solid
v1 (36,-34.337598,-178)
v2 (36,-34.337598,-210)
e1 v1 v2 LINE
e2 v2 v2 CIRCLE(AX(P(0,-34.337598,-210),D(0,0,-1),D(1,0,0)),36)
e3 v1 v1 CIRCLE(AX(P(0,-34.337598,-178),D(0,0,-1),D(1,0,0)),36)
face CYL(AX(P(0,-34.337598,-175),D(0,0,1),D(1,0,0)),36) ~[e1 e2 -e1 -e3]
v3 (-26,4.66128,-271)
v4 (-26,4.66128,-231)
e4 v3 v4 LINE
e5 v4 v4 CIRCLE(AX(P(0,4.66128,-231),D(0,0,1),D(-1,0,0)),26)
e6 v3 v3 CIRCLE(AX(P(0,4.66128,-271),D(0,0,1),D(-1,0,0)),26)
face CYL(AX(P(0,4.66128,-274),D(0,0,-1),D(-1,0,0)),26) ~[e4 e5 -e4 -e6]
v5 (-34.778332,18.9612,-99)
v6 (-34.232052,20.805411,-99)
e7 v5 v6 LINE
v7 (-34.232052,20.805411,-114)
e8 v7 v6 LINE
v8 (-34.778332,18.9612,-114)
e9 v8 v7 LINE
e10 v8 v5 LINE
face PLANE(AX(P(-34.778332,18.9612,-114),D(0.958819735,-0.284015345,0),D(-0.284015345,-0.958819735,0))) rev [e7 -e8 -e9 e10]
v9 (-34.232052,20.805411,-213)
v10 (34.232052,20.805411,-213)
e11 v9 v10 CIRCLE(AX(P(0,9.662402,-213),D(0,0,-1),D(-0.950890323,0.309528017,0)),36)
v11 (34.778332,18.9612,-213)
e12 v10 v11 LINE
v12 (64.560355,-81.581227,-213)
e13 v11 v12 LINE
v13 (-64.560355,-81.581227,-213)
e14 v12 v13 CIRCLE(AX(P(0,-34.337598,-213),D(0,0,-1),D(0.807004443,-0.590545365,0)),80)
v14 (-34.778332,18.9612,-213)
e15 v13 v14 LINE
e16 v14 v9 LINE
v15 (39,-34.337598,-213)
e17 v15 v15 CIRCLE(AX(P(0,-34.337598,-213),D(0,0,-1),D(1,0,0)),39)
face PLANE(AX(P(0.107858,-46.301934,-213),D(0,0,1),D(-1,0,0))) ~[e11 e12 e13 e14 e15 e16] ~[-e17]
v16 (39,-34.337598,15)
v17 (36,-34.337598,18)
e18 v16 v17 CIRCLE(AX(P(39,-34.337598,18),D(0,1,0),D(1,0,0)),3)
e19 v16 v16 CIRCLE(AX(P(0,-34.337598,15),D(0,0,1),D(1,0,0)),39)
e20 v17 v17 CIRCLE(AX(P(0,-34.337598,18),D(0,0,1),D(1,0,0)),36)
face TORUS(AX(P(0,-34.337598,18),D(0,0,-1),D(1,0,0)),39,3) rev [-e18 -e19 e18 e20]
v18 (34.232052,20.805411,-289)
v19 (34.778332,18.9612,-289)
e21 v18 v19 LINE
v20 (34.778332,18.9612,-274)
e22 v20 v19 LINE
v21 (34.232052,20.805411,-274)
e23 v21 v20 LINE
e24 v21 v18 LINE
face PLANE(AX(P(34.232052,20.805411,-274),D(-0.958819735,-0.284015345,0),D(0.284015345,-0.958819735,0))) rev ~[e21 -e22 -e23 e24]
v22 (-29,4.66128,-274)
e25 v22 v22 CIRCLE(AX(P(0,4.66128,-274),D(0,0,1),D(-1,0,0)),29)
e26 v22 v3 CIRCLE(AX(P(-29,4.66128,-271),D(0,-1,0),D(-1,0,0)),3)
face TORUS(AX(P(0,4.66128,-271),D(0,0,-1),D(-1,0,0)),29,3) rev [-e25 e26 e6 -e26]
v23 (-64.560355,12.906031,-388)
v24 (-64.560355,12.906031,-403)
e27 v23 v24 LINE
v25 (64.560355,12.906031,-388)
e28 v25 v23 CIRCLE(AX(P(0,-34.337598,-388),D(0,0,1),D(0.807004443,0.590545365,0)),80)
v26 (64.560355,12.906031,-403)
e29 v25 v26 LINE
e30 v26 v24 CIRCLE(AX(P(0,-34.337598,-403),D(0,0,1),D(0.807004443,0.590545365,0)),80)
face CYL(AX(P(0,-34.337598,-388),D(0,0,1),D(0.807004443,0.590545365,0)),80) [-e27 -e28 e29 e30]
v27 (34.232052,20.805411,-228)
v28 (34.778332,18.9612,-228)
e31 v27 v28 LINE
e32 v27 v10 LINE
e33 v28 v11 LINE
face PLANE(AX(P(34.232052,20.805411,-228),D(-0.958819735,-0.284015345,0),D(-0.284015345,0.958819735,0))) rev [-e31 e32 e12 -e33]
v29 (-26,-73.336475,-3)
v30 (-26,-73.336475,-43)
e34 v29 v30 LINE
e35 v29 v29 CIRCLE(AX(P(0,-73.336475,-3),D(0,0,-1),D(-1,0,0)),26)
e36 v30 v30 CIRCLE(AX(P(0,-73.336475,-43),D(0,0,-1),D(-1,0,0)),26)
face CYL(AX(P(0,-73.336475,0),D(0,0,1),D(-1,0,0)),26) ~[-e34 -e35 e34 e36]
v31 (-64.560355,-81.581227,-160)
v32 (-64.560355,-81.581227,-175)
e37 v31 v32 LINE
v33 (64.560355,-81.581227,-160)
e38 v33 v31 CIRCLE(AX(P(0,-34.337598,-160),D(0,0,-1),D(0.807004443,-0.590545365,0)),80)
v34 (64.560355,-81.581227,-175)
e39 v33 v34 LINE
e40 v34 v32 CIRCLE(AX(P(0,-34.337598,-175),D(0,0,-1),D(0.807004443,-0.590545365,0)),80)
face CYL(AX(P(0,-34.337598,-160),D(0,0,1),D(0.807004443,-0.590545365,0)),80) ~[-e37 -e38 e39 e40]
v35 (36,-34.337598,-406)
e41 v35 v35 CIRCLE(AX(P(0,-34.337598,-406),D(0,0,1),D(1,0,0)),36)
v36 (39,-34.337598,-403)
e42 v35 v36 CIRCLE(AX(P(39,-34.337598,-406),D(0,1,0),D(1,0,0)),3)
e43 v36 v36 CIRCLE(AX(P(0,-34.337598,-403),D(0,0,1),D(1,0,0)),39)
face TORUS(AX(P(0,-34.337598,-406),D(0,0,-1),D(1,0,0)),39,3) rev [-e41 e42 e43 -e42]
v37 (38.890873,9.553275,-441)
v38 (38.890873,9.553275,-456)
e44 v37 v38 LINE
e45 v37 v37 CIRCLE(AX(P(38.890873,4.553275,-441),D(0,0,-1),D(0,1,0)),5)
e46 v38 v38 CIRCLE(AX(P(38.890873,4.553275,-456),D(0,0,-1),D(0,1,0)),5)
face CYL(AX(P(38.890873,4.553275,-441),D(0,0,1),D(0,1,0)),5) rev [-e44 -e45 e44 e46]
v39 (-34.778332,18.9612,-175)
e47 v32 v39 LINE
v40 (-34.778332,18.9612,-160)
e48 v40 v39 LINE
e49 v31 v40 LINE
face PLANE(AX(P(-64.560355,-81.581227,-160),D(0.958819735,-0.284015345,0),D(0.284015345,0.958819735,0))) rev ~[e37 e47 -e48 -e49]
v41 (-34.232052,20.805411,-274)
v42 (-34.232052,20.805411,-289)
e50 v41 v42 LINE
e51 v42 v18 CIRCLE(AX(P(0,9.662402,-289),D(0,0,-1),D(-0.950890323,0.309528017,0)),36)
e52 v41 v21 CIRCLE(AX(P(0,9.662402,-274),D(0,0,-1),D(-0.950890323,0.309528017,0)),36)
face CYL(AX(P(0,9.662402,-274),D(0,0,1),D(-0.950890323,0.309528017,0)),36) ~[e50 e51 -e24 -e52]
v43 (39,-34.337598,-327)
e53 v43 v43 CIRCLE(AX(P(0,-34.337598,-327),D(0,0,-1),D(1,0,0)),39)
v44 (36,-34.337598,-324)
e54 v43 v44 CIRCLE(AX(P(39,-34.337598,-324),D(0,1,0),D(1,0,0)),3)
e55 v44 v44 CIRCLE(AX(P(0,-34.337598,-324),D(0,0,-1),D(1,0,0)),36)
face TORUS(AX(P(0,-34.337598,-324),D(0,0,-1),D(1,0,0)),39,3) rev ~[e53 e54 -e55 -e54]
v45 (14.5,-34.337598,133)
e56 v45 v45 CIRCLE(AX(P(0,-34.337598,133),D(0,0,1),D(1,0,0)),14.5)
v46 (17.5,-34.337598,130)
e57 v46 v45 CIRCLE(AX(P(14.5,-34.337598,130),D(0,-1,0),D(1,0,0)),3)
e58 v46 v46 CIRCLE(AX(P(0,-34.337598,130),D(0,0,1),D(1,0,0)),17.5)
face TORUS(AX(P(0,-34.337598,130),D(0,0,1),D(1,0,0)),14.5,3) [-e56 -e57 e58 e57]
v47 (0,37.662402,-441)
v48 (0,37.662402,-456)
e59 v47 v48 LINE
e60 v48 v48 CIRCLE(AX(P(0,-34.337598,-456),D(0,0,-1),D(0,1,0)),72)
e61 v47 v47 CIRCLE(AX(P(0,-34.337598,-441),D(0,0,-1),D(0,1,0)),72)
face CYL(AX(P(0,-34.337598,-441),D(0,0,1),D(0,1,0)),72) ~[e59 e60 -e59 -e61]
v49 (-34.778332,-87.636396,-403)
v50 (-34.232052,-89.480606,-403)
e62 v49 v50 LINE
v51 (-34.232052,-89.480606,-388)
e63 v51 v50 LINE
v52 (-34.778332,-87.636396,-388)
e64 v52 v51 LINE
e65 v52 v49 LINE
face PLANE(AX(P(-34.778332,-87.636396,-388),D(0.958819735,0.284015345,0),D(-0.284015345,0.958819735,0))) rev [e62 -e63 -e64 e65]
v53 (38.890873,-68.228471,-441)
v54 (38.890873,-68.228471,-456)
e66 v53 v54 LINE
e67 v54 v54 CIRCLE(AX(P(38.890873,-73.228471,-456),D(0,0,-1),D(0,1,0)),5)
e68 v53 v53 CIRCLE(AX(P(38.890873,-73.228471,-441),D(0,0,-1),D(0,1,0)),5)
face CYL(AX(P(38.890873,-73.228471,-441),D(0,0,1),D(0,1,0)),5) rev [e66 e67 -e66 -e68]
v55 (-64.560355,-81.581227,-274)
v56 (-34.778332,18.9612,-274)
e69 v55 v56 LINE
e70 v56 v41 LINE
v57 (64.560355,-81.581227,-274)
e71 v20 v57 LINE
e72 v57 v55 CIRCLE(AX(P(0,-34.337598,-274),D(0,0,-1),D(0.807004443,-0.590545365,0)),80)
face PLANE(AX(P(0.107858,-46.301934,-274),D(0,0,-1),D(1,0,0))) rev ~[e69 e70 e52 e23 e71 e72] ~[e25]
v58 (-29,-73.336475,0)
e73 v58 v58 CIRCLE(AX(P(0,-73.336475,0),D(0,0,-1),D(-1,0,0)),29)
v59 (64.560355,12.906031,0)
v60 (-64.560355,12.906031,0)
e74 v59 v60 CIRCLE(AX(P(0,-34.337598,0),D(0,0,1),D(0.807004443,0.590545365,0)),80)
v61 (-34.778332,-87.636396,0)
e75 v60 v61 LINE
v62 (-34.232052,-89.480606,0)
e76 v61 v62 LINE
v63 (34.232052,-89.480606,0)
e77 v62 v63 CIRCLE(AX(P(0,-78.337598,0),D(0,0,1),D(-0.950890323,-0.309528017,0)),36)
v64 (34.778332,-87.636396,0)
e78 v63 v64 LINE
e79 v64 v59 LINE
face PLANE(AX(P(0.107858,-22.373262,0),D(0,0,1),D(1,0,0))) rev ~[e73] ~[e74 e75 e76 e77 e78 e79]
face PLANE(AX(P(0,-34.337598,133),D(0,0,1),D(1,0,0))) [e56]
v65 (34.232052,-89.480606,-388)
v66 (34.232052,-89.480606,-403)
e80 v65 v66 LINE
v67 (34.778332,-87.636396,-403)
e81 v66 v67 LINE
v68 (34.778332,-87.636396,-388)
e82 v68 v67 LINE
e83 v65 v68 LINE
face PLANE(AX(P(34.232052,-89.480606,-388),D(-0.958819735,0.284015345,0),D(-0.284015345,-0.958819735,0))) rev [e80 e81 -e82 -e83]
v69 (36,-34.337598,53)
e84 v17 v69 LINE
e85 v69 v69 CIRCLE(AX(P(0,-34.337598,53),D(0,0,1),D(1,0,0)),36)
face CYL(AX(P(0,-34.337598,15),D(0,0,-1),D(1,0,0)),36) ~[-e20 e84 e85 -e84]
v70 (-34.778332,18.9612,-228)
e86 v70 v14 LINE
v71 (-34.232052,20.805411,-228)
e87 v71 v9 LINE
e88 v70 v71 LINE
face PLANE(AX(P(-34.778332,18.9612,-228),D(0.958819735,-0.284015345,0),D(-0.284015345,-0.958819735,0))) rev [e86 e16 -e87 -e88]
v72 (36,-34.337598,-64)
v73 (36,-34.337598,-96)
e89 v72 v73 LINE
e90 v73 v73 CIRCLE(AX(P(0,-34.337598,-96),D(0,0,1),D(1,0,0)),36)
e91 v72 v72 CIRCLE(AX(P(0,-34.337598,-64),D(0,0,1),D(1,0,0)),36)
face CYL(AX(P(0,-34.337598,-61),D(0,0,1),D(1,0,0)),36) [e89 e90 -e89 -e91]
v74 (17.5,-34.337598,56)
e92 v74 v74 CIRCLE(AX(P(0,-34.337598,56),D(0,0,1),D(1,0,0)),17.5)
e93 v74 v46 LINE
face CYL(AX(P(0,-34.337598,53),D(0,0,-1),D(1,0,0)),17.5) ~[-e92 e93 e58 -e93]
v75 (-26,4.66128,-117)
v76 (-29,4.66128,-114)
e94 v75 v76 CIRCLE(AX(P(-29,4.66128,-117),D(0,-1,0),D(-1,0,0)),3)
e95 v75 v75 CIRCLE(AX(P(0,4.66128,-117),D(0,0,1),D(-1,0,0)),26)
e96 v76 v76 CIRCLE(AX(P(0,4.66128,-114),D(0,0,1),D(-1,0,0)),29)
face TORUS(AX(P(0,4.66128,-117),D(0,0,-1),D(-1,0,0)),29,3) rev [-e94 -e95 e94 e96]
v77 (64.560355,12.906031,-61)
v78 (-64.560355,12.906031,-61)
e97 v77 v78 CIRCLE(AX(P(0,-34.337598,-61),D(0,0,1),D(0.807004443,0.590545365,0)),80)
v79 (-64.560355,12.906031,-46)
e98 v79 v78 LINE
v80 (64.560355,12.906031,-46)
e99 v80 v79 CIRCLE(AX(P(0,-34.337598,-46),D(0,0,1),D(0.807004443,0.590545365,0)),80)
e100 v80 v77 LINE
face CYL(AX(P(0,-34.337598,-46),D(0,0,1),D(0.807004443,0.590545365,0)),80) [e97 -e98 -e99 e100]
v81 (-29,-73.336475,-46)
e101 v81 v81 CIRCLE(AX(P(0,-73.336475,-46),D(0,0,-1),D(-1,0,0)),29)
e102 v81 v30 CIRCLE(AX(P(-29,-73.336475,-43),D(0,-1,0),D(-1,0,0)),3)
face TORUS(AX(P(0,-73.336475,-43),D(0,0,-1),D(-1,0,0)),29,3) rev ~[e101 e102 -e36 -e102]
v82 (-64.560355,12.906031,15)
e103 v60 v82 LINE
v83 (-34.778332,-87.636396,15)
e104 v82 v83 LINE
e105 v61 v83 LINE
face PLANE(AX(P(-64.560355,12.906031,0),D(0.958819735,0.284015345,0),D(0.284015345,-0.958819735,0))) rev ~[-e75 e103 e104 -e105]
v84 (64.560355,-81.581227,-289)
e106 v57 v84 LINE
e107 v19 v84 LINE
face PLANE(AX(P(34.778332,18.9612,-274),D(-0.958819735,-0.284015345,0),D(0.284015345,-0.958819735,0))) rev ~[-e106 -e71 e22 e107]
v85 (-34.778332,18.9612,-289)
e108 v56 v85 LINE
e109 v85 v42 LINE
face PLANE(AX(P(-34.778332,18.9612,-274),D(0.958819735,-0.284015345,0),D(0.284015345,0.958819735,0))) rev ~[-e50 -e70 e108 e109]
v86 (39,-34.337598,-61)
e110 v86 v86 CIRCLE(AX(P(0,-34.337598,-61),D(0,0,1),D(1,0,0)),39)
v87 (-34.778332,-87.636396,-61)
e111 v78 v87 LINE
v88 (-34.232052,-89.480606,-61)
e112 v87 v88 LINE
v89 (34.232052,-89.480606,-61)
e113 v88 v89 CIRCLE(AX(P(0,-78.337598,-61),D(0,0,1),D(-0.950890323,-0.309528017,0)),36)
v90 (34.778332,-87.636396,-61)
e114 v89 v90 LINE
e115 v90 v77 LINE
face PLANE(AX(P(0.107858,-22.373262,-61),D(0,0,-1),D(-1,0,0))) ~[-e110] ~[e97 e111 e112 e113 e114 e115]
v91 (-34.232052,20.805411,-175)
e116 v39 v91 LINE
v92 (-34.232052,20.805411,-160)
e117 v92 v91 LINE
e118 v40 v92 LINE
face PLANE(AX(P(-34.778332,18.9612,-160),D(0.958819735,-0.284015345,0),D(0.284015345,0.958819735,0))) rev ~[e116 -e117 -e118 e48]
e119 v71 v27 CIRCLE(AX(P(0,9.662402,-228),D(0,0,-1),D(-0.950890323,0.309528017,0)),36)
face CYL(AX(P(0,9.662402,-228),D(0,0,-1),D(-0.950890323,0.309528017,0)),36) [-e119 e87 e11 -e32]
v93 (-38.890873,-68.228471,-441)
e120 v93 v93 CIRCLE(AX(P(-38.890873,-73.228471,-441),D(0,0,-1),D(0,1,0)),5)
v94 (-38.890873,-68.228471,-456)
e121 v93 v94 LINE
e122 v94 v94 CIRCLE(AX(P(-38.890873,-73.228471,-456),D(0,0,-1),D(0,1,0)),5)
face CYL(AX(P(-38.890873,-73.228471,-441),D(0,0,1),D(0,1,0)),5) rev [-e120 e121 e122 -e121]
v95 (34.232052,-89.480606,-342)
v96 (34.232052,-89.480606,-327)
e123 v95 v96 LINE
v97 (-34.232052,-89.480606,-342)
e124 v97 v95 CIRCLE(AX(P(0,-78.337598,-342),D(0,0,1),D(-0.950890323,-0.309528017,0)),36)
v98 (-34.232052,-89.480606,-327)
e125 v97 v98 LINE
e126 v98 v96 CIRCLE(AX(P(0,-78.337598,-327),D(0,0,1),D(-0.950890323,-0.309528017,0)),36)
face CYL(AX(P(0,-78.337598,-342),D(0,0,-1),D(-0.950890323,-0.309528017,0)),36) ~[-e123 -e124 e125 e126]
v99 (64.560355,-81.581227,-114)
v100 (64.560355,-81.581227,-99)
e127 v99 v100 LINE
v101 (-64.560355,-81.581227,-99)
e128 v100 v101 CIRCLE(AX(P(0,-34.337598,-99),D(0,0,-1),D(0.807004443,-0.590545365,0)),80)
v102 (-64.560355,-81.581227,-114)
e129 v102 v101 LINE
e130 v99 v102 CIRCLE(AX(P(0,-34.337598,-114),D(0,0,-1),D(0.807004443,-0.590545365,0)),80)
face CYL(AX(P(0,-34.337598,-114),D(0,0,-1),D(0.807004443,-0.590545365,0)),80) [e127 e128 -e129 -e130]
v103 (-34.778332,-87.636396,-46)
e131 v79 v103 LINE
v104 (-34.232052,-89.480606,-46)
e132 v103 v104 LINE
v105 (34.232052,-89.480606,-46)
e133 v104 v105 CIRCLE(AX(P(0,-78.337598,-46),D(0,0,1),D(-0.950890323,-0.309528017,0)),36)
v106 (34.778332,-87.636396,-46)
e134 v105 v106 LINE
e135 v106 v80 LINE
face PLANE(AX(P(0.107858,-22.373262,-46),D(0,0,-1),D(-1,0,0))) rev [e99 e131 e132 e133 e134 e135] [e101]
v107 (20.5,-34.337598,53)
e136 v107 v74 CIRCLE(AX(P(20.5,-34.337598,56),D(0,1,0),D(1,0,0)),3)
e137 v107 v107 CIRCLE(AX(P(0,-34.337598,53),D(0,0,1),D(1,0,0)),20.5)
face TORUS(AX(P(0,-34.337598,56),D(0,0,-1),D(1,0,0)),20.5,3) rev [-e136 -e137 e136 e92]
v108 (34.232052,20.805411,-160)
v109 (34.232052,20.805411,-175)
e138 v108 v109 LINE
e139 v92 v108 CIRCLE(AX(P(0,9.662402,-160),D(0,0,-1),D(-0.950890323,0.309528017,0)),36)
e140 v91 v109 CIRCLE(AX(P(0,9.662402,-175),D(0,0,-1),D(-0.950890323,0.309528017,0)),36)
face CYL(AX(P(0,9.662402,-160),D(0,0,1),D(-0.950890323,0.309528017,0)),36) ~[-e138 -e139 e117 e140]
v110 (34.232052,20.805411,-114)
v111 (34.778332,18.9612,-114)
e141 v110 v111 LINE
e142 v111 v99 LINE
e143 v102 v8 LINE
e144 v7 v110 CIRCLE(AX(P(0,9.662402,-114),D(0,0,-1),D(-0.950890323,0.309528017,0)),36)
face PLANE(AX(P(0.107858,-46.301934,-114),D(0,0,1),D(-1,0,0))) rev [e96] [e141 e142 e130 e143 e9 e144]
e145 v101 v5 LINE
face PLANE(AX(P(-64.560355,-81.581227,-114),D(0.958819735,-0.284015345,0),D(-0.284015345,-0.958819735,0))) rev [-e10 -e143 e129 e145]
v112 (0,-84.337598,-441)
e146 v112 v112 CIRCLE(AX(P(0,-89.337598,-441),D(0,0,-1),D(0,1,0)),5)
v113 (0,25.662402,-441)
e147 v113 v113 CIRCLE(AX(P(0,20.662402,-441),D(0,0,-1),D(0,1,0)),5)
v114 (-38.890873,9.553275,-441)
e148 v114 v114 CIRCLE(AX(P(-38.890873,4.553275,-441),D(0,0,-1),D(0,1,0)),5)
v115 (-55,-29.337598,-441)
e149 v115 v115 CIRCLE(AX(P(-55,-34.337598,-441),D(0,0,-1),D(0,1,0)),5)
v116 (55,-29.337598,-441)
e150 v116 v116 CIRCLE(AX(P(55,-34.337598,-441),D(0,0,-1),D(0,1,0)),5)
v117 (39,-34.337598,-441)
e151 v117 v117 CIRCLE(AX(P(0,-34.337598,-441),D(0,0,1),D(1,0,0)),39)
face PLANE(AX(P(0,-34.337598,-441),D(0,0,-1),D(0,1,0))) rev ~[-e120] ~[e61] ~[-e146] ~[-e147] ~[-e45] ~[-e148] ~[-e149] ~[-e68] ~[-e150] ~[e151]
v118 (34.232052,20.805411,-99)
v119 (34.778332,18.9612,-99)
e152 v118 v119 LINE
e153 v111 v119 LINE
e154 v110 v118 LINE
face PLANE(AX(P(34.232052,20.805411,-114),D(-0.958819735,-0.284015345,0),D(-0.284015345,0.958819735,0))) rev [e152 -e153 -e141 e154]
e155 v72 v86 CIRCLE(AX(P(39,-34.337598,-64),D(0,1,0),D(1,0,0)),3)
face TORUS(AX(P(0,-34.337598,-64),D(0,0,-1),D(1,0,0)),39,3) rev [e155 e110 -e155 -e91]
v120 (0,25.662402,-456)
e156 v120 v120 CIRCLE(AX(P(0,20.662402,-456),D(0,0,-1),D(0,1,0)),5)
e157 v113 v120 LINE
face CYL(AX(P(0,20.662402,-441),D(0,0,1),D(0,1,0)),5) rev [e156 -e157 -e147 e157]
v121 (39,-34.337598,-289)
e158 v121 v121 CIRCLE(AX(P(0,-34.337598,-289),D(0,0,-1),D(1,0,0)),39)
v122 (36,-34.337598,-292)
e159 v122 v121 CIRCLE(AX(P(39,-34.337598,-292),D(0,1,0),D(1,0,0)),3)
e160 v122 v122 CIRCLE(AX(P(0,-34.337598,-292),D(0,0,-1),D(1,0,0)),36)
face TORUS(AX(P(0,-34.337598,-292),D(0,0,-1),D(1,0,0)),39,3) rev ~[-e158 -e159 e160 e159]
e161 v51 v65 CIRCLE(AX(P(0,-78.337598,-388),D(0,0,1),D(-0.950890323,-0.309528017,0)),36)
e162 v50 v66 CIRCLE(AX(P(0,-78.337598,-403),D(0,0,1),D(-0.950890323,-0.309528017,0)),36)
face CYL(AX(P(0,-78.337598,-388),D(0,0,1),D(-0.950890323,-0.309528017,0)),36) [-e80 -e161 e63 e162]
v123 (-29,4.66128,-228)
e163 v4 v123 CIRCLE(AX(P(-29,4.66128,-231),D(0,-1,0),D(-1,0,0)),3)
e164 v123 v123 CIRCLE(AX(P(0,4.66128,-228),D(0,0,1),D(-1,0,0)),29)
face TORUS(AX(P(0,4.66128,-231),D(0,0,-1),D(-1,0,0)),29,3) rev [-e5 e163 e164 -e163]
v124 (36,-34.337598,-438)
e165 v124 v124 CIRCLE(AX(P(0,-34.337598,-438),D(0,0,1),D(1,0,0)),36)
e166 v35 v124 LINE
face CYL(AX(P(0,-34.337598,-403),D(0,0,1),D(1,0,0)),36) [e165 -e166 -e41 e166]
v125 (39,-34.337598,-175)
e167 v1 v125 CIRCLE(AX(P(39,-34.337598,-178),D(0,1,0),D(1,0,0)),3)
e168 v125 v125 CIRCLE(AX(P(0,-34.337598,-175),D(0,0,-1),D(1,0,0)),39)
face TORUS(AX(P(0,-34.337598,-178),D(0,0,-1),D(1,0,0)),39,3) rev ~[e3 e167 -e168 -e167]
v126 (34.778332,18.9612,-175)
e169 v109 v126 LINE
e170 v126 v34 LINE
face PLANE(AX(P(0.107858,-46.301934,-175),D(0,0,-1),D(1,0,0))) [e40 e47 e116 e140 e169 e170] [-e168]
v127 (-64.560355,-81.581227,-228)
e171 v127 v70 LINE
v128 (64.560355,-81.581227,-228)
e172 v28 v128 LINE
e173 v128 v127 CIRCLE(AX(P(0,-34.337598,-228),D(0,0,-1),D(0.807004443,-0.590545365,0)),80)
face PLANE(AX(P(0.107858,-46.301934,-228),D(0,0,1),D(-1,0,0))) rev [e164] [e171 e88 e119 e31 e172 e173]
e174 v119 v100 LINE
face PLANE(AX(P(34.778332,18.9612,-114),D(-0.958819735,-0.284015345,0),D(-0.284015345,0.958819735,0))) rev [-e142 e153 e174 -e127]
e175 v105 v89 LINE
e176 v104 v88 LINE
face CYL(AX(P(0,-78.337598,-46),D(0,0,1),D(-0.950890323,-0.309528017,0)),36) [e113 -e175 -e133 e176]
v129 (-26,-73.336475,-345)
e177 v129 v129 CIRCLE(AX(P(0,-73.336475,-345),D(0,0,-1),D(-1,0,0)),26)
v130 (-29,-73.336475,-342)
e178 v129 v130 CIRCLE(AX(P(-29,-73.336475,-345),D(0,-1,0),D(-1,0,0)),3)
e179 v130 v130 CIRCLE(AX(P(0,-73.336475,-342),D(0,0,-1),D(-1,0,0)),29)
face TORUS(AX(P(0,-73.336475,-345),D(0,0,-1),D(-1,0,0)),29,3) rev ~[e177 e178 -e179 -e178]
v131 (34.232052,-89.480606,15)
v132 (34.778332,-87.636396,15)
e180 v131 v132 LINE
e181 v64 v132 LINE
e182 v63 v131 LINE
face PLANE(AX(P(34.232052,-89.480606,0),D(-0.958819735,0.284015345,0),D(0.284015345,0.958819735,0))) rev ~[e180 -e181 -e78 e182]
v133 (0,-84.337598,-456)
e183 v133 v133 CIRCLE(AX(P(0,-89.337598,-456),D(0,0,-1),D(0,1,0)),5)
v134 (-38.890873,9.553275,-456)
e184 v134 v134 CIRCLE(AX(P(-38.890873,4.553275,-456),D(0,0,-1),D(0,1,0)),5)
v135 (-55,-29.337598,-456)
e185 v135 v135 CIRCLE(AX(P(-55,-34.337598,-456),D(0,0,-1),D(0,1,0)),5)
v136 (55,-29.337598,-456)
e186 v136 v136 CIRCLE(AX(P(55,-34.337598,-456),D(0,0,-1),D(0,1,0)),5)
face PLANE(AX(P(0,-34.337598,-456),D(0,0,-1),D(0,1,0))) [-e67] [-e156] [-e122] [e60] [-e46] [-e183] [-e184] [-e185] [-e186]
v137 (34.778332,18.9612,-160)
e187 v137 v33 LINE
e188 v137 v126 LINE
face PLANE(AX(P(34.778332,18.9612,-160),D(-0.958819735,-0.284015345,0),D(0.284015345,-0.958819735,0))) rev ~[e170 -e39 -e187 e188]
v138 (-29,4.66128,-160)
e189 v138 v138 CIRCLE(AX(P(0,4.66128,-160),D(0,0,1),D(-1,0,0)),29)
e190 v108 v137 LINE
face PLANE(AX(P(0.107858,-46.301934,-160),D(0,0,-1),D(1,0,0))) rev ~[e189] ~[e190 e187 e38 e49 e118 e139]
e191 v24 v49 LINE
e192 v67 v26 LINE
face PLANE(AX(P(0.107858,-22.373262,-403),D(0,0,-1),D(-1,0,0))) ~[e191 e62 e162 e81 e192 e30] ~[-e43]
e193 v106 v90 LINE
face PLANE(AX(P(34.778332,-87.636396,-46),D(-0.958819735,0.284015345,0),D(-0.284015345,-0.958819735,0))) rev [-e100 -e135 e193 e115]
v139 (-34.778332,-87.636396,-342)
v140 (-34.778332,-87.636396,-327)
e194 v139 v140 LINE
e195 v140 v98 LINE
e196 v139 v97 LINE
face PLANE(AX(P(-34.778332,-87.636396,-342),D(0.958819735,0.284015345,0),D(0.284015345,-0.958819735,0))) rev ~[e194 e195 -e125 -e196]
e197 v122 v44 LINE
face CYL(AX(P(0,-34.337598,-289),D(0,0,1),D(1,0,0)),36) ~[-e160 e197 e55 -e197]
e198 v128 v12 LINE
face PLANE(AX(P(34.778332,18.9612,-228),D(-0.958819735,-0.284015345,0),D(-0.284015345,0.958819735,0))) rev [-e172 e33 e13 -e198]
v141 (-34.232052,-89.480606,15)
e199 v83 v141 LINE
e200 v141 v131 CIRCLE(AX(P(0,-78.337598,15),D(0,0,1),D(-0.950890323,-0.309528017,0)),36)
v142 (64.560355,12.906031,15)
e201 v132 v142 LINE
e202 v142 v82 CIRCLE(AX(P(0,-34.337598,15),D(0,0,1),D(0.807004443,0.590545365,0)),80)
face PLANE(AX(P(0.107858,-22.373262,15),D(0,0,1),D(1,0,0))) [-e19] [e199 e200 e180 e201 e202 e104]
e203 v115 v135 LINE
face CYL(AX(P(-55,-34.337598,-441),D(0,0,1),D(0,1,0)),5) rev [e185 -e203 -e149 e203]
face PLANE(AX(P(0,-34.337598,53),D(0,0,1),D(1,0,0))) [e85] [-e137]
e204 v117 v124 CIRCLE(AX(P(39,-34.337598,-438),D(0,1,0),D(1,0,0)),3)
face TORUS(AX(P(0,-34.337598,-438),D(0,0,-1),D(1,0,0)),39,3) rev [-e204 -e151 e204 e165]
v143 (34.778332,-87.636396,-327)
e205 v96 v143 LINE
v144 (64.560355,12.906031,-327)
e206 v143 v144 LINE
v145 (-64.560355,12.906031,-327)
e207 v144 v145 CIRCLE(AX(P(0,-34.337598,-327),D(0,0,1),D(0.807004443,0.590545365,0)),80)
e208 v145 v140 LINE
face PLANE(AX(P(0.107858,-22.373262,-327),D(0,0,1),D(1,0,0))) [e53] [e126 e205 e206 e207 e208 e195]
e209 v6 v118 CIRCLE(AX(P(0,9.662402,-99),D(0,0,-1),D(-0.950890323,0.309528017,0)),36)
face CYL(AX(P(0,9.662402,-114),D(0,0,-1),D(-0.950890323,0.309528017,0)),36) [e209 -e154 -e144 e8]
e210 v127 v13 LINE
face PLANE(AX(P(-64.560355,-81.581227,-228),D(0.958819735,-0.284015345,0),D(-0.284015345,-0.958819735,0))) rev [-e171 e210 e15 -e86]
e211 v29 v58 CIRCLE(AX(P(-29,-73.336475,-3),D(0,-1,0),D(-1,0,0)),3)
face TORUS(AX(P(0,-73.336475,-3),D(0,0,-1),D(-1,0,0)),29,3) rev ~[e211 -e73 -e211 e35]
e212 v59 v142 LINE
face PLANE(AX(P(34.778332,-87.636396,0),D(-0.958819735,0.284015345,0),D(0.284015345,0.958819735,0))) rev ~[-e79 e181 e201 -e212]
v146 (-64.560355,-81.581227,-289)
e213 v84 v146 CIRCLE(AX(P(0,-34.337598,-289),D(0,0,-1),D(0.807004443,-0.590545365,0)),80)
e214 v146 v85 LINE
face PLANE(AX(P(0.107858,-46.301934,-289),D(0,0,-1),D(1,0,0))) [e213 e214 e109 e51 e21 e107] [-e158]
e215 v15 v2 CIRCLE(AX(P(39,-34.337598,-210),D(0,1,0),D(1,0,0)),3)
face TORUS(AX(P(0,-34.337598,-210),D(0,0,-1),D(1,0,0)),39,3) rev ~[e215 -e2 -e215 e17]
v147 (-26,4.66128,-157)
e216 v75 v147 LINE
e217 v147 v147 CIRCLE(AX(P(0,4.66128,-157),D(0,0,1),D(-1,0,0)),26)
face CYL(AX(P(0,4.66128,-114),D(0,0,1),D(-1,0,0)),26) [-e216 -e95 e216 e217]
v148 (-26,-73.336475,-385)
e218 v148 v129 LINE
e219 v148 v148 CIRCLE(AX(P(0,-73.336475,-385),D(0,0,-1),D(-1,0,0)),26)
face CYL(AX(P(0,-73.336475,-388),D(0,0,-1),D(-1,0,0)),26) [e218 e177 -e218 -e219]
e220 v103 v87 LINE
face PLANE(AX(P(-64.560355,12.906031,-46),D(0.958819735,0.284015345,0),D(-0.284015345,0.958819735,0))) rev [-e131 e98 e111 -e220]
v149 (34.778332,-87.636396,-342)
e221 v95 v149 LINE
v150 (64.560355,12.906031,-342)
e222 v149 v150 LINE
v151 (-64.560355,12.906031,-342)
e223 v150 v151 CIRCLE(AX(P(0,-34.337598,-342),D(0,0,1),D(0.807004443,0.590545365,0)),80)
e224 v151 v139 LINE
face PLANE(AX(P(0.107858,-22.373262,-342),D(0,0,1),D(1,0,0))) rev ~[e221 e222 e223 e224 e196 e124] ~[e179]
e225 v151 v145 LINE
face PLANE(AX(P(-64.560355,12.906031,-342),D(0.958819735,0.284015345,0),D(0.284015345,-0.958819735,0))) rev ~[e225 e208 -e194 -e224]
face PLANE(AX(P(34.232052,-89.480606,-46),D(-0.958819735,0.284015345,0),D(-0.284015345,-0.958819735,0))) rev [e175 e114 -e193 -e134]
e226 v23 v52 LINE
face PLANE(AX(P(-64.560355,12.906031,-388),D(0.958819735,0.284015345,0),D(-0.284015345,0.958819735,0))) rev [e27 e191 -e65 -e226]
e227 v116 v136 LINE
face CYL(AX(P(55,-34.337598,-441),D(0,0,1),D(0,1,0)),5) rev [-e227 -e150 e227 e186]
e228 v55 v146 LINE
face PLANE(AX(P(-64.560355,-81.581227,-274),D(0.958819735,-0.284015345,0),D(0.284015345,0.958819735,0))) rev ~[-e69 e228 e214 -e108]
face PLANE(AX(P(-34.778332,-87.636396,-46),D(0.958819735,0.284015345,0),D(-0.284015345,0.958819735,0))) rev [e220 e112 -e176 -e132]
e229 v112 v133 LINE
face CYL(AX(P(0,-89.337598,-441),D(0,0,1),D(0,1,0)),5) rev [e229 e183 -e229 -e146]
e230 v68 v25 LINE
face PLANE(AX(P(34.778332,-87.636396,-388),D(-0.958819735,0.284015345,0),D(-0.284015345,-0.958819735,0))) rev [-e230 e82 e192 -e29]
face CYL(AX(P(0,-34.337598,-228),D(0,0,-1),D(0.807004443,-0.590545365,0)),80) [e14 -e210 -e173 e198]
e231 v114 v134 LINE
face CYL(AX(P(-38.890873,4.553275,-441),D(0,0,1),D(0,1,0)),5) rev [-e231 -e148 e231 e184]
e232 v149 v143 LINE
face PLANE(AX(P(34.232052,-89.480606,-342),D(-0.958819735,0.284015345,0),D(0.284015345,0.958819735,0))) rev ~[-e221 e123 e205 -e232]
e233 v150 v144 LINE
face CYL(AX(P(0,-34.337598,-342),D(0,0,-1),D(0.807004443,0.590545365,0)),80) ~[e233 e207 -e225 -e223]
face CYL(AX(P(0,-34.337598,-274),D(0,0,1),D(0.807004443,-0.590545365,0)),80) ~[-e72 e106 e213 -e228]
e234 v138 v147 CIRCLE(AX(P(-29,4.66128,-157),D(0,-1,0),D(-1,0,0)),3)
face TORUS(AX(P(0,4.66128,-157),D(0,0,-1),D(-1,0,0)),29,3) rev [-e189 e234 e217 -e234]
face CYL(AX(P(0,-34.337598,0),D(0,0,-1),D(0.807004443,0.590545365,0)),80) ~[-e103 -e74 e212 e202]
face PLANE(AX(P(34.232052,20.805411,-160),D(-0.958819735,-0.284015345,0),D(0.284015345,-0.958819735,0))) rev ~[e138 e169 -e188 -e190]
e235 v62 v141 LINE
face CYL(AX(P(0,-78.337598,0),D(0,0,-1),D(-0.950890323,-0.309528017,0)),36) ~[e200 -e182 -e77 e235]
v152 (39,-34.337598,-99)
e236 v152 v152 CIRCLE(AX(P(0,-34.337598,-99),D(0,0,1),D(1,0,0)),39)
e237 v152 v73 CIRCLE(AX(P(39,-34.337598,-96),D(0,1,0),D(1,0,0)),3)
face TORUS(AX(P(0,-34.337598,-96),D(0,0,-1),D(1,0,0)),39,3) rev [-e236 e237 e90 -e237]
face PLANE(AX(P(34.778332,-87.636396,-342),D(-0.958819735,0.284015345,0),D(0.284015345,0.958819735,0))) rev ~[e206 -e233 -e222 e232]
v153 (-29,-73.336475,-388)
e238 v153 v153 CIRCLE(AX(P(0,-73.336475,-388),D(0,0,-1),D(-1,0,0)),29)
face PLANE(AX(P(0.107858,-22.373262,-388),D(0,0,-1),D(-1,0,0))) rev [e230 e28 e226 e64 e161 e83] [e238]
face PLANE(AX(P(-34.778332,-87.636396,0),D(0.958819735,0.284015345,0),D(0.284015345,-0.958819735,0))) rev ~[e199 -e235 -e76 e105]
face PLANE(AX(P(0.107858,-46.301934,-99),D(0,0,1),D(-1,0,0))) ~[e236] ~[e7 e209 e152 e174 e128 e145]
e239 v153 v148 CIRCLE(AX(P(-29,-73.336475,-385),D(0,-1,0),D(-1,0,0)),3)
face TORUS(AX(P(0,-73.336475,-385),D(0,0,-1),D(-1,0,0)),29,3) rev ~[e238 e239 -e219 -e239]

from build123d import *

# Parameters (mm, degrees)
BOSS_EXTRUDE3_DEPTH   = 15
SKETCH5_R             = 26
BOSS_EXTRUDE4_DEPTH   = 46
SKETCH6_R             = 36
BOSS_EXTRUDE5_DEPTH   = 38
BODY_MOVE_COPY1_ANGLE = 180
SKETCH7_R             = 17.5
BOSS_EXTRUDE6_DEPTH   = 80
SKETCH8_R             = 72
SKETCH8_R_2           = 5
BOSS_EXTRUDE7_DEPTH   = 15
FILLET2_R             = 3


with BuildPart() as part:
    # Sketch1 → Boss-Extrude3 (new body)
    with BuildSketch(Plane.XY):
        with BuildLine():
            ThreePointArc((64.560355465, 12.906031471), (0, 45.662402247), (-64.560355465, 12.906031471))
            Line((-64.560355465, 12.906031471), (-34.778331639, -87.636395976))
            ThreePointArc((-34.778331639, -87.636395976), (-4.689352887, -42.644321502), (36, -78.337597753))
            ThreePointArc((36, -78.337597753), (35.693276251, -83.026950639), (34.778331639, -87.636395976))
            Line((34.778331639, -87.636395976), (64.560355465, 12.906031471))
        make_face()
        with BuildLine():
            ThreePointArc((36, -78.337597753), (-4.689352887, -42.644321502), (-34.778331639, -87.636395976))
            Line((-34.778331639, -87.636395976), (-34.232051639, -89.480606349))
            ThreePointArc((-34.232051639, -89.480606349), (0, -114.337597753), (34.232051639, -89.480606349))
            Line((34.232051639, -89.480606349), (34.778331639, -87.636395976))
            ThreePointArc((34.778331639, -87.636395976), (35.693276251, -83.026950639), (36, -78.337597753))
        make_face()
    boss_extrude3 = extrude(amount=BOSS_EXTRUDE3_DEPTH)

    # Sketch5 → Boss-Extrude4 (add)
    with BuildSketch(Plane(origin=(0, 0, 0), x_dir=(-1, 0, 0), z_dir=(0, 0, -1))):
        with Locations((0, -73.336475423)):
            Circle(SKETCH5_R)
    extrude(amount=BOSS_EXTRUDE4_DEPTH)

    # Sketch6 → Boss-Extrude5 (add)
    with BuildSketch(Plane.XY.offset(15)):
        with Locations((0, -34.337597753)):
            Circle(SKETCH6_R)
    boss_extrude5 = extrude(amount=BOSS_EXTRUDE5_DEPTH)

    # Mirror8: Boss-Extrude3, Boss-Extrude5 across plane
    add(boss_extrude3.mirror(Plane(origin=(0, 0, -23), x_dir=(1, 0, 0), z_dir=(0, 0, -1))))
    add(boss_extrude5.mirror(Plane(origin=(0, 0, -23), x_dir=(1, 0, 0), z_dir=(0, 0, -1))))


with BuildPart() as body_2:
    # Mirror10: mirrored copy
    add(part.part.mirror(Plane(origin=(0, 0, -80), x_dir=(1, 0, 0), z_dir=(0, 0, -1))))


with BuildPart() as body_2_1:
    # Body-Move/Copy1: moved
    add(body_2.part.rotate(Axis((0, -34.337597753, -137), (1, 0, 0)), BODY_MOVE_COPY1_ANGLE))


with BuildPart() as body_3:
    # Mirror11: mirrored copy
    add(body_2_1.part.mirror(Plane(origin=(0, 0, -194), x_dir=(1, 0, 0), z_dir=(0, 0, -1))))


with BuildPart() as body_4:
    # Mirror11 2: mirrored copy
    add(part.part.mirror(Plane(origin=(0, 0, -194), x_dir=(1, 0, 0), z_dir=(0, 0, -1))))

    # Sketch8 → Boss-Extrude7 (add)
    with BuildSketch(Plane(origin=(0, 0, -441), x_dir=(-1, 0, 0), z_dir=(0, 0, -1))):
        with Locations(Location((0, -34.337597753, 0), (0, 0, 90))):
            Circle(SKETCH8_R)
        with Locations(Location((0, 20.662402247, 0), (0, 0, 90))):
            Circle(SKETCH8_R_2, mode=Mode.SUBTRACT)
        with Locations(Location((38.890872965, 4.553275213, 0), (0, 0, 90))):
            Circle(SKETCH8_R_2, mode=Mode.SUBTRACT)
        with Locations(Location((55, -34.337597753, 0), (0, 0, 90))):
            Circle(SKETCH8_R_2, mode=Mode.SUBTRACT)
        with Locations(Location((38.890872965, -73.228470718, 0), (0, 0, 90))):
            Circle(SKETCH8_R_2, mode=Mode.SUBTRACT)
        with Locations(Location((0, -89.337597753, 0), (0, 0, 90))):
            Circle(SKETCH8_R_2, mode=Mode.SUBTRACT)
        with Locations(Location((-38.890872965, -73.228470718, 0), (0, 0, 90))):
            Circle(SKETCH8_R_2, mode=Mode.SUBTRACT)
        with Locations(Location((-55, -34.337597753, 0), (0, 0, 90))):
            Circle(SKETCH8_R_2, mode=Mode.SUBTRACT)
        with Locations(Location((-38.890872965, 4.553275213, 0), (0, 0, 90))):
            Circle(SKETCH8_R_2, mode=Mode.SUBTRACT)
    extrude(amount=BOSS_EXTRUDE7_DEPTH)


with BuildPart() as part_1:
    add(part.part)

    # Sketch7 → Boss-Extrude6 (add)
    with BuildSketch(Plane.XY.offset(53)):
        with Locations((0, -34.337597753)):
            Circle(SKETCH7_R)
    extrude(amount=BOSS_EXTRUDE6_DEPTH)

    # Combine1: union body 2, body 3, body 4
    add(body_2_1.part)
    add(body_3.part)
    add(body_4.part)

    # Fillet2
    fillet2_edges = [part_1.edges().sort_by_distance(p)[0] for p in [
        (26, -73.336475423, 0),
        (26, -73.336475423, -46),
        (-36, -34.337597753, 15),
        (-36, -34.337597753, -61),
        (-17.5, -34.337597753, 53),
        (-17.5, -34.337597753, 133),
        (-36, -34.337597753, -99),
        (26, 4.661279918, -114),
        (26, 4.661279918, -160),
        (-36, -34.337597753, -175),
        (26, 4.661279918, -274),
        (-36, -34.337597753, -289),
        (-36, -34.337597753, -213),
        (26, 4.661279918, -228),
        (-36, -34.337597753, -403),
        (26, -73.336475423, -388),
        (26, -73.336475423, -342),
        (-36, -34.337597753, -441),
        (-36, -34.337597753, -327),
    ]]
    fillet(fillet2_edges, radius=FILLET2_R)


solid = part_1.part
